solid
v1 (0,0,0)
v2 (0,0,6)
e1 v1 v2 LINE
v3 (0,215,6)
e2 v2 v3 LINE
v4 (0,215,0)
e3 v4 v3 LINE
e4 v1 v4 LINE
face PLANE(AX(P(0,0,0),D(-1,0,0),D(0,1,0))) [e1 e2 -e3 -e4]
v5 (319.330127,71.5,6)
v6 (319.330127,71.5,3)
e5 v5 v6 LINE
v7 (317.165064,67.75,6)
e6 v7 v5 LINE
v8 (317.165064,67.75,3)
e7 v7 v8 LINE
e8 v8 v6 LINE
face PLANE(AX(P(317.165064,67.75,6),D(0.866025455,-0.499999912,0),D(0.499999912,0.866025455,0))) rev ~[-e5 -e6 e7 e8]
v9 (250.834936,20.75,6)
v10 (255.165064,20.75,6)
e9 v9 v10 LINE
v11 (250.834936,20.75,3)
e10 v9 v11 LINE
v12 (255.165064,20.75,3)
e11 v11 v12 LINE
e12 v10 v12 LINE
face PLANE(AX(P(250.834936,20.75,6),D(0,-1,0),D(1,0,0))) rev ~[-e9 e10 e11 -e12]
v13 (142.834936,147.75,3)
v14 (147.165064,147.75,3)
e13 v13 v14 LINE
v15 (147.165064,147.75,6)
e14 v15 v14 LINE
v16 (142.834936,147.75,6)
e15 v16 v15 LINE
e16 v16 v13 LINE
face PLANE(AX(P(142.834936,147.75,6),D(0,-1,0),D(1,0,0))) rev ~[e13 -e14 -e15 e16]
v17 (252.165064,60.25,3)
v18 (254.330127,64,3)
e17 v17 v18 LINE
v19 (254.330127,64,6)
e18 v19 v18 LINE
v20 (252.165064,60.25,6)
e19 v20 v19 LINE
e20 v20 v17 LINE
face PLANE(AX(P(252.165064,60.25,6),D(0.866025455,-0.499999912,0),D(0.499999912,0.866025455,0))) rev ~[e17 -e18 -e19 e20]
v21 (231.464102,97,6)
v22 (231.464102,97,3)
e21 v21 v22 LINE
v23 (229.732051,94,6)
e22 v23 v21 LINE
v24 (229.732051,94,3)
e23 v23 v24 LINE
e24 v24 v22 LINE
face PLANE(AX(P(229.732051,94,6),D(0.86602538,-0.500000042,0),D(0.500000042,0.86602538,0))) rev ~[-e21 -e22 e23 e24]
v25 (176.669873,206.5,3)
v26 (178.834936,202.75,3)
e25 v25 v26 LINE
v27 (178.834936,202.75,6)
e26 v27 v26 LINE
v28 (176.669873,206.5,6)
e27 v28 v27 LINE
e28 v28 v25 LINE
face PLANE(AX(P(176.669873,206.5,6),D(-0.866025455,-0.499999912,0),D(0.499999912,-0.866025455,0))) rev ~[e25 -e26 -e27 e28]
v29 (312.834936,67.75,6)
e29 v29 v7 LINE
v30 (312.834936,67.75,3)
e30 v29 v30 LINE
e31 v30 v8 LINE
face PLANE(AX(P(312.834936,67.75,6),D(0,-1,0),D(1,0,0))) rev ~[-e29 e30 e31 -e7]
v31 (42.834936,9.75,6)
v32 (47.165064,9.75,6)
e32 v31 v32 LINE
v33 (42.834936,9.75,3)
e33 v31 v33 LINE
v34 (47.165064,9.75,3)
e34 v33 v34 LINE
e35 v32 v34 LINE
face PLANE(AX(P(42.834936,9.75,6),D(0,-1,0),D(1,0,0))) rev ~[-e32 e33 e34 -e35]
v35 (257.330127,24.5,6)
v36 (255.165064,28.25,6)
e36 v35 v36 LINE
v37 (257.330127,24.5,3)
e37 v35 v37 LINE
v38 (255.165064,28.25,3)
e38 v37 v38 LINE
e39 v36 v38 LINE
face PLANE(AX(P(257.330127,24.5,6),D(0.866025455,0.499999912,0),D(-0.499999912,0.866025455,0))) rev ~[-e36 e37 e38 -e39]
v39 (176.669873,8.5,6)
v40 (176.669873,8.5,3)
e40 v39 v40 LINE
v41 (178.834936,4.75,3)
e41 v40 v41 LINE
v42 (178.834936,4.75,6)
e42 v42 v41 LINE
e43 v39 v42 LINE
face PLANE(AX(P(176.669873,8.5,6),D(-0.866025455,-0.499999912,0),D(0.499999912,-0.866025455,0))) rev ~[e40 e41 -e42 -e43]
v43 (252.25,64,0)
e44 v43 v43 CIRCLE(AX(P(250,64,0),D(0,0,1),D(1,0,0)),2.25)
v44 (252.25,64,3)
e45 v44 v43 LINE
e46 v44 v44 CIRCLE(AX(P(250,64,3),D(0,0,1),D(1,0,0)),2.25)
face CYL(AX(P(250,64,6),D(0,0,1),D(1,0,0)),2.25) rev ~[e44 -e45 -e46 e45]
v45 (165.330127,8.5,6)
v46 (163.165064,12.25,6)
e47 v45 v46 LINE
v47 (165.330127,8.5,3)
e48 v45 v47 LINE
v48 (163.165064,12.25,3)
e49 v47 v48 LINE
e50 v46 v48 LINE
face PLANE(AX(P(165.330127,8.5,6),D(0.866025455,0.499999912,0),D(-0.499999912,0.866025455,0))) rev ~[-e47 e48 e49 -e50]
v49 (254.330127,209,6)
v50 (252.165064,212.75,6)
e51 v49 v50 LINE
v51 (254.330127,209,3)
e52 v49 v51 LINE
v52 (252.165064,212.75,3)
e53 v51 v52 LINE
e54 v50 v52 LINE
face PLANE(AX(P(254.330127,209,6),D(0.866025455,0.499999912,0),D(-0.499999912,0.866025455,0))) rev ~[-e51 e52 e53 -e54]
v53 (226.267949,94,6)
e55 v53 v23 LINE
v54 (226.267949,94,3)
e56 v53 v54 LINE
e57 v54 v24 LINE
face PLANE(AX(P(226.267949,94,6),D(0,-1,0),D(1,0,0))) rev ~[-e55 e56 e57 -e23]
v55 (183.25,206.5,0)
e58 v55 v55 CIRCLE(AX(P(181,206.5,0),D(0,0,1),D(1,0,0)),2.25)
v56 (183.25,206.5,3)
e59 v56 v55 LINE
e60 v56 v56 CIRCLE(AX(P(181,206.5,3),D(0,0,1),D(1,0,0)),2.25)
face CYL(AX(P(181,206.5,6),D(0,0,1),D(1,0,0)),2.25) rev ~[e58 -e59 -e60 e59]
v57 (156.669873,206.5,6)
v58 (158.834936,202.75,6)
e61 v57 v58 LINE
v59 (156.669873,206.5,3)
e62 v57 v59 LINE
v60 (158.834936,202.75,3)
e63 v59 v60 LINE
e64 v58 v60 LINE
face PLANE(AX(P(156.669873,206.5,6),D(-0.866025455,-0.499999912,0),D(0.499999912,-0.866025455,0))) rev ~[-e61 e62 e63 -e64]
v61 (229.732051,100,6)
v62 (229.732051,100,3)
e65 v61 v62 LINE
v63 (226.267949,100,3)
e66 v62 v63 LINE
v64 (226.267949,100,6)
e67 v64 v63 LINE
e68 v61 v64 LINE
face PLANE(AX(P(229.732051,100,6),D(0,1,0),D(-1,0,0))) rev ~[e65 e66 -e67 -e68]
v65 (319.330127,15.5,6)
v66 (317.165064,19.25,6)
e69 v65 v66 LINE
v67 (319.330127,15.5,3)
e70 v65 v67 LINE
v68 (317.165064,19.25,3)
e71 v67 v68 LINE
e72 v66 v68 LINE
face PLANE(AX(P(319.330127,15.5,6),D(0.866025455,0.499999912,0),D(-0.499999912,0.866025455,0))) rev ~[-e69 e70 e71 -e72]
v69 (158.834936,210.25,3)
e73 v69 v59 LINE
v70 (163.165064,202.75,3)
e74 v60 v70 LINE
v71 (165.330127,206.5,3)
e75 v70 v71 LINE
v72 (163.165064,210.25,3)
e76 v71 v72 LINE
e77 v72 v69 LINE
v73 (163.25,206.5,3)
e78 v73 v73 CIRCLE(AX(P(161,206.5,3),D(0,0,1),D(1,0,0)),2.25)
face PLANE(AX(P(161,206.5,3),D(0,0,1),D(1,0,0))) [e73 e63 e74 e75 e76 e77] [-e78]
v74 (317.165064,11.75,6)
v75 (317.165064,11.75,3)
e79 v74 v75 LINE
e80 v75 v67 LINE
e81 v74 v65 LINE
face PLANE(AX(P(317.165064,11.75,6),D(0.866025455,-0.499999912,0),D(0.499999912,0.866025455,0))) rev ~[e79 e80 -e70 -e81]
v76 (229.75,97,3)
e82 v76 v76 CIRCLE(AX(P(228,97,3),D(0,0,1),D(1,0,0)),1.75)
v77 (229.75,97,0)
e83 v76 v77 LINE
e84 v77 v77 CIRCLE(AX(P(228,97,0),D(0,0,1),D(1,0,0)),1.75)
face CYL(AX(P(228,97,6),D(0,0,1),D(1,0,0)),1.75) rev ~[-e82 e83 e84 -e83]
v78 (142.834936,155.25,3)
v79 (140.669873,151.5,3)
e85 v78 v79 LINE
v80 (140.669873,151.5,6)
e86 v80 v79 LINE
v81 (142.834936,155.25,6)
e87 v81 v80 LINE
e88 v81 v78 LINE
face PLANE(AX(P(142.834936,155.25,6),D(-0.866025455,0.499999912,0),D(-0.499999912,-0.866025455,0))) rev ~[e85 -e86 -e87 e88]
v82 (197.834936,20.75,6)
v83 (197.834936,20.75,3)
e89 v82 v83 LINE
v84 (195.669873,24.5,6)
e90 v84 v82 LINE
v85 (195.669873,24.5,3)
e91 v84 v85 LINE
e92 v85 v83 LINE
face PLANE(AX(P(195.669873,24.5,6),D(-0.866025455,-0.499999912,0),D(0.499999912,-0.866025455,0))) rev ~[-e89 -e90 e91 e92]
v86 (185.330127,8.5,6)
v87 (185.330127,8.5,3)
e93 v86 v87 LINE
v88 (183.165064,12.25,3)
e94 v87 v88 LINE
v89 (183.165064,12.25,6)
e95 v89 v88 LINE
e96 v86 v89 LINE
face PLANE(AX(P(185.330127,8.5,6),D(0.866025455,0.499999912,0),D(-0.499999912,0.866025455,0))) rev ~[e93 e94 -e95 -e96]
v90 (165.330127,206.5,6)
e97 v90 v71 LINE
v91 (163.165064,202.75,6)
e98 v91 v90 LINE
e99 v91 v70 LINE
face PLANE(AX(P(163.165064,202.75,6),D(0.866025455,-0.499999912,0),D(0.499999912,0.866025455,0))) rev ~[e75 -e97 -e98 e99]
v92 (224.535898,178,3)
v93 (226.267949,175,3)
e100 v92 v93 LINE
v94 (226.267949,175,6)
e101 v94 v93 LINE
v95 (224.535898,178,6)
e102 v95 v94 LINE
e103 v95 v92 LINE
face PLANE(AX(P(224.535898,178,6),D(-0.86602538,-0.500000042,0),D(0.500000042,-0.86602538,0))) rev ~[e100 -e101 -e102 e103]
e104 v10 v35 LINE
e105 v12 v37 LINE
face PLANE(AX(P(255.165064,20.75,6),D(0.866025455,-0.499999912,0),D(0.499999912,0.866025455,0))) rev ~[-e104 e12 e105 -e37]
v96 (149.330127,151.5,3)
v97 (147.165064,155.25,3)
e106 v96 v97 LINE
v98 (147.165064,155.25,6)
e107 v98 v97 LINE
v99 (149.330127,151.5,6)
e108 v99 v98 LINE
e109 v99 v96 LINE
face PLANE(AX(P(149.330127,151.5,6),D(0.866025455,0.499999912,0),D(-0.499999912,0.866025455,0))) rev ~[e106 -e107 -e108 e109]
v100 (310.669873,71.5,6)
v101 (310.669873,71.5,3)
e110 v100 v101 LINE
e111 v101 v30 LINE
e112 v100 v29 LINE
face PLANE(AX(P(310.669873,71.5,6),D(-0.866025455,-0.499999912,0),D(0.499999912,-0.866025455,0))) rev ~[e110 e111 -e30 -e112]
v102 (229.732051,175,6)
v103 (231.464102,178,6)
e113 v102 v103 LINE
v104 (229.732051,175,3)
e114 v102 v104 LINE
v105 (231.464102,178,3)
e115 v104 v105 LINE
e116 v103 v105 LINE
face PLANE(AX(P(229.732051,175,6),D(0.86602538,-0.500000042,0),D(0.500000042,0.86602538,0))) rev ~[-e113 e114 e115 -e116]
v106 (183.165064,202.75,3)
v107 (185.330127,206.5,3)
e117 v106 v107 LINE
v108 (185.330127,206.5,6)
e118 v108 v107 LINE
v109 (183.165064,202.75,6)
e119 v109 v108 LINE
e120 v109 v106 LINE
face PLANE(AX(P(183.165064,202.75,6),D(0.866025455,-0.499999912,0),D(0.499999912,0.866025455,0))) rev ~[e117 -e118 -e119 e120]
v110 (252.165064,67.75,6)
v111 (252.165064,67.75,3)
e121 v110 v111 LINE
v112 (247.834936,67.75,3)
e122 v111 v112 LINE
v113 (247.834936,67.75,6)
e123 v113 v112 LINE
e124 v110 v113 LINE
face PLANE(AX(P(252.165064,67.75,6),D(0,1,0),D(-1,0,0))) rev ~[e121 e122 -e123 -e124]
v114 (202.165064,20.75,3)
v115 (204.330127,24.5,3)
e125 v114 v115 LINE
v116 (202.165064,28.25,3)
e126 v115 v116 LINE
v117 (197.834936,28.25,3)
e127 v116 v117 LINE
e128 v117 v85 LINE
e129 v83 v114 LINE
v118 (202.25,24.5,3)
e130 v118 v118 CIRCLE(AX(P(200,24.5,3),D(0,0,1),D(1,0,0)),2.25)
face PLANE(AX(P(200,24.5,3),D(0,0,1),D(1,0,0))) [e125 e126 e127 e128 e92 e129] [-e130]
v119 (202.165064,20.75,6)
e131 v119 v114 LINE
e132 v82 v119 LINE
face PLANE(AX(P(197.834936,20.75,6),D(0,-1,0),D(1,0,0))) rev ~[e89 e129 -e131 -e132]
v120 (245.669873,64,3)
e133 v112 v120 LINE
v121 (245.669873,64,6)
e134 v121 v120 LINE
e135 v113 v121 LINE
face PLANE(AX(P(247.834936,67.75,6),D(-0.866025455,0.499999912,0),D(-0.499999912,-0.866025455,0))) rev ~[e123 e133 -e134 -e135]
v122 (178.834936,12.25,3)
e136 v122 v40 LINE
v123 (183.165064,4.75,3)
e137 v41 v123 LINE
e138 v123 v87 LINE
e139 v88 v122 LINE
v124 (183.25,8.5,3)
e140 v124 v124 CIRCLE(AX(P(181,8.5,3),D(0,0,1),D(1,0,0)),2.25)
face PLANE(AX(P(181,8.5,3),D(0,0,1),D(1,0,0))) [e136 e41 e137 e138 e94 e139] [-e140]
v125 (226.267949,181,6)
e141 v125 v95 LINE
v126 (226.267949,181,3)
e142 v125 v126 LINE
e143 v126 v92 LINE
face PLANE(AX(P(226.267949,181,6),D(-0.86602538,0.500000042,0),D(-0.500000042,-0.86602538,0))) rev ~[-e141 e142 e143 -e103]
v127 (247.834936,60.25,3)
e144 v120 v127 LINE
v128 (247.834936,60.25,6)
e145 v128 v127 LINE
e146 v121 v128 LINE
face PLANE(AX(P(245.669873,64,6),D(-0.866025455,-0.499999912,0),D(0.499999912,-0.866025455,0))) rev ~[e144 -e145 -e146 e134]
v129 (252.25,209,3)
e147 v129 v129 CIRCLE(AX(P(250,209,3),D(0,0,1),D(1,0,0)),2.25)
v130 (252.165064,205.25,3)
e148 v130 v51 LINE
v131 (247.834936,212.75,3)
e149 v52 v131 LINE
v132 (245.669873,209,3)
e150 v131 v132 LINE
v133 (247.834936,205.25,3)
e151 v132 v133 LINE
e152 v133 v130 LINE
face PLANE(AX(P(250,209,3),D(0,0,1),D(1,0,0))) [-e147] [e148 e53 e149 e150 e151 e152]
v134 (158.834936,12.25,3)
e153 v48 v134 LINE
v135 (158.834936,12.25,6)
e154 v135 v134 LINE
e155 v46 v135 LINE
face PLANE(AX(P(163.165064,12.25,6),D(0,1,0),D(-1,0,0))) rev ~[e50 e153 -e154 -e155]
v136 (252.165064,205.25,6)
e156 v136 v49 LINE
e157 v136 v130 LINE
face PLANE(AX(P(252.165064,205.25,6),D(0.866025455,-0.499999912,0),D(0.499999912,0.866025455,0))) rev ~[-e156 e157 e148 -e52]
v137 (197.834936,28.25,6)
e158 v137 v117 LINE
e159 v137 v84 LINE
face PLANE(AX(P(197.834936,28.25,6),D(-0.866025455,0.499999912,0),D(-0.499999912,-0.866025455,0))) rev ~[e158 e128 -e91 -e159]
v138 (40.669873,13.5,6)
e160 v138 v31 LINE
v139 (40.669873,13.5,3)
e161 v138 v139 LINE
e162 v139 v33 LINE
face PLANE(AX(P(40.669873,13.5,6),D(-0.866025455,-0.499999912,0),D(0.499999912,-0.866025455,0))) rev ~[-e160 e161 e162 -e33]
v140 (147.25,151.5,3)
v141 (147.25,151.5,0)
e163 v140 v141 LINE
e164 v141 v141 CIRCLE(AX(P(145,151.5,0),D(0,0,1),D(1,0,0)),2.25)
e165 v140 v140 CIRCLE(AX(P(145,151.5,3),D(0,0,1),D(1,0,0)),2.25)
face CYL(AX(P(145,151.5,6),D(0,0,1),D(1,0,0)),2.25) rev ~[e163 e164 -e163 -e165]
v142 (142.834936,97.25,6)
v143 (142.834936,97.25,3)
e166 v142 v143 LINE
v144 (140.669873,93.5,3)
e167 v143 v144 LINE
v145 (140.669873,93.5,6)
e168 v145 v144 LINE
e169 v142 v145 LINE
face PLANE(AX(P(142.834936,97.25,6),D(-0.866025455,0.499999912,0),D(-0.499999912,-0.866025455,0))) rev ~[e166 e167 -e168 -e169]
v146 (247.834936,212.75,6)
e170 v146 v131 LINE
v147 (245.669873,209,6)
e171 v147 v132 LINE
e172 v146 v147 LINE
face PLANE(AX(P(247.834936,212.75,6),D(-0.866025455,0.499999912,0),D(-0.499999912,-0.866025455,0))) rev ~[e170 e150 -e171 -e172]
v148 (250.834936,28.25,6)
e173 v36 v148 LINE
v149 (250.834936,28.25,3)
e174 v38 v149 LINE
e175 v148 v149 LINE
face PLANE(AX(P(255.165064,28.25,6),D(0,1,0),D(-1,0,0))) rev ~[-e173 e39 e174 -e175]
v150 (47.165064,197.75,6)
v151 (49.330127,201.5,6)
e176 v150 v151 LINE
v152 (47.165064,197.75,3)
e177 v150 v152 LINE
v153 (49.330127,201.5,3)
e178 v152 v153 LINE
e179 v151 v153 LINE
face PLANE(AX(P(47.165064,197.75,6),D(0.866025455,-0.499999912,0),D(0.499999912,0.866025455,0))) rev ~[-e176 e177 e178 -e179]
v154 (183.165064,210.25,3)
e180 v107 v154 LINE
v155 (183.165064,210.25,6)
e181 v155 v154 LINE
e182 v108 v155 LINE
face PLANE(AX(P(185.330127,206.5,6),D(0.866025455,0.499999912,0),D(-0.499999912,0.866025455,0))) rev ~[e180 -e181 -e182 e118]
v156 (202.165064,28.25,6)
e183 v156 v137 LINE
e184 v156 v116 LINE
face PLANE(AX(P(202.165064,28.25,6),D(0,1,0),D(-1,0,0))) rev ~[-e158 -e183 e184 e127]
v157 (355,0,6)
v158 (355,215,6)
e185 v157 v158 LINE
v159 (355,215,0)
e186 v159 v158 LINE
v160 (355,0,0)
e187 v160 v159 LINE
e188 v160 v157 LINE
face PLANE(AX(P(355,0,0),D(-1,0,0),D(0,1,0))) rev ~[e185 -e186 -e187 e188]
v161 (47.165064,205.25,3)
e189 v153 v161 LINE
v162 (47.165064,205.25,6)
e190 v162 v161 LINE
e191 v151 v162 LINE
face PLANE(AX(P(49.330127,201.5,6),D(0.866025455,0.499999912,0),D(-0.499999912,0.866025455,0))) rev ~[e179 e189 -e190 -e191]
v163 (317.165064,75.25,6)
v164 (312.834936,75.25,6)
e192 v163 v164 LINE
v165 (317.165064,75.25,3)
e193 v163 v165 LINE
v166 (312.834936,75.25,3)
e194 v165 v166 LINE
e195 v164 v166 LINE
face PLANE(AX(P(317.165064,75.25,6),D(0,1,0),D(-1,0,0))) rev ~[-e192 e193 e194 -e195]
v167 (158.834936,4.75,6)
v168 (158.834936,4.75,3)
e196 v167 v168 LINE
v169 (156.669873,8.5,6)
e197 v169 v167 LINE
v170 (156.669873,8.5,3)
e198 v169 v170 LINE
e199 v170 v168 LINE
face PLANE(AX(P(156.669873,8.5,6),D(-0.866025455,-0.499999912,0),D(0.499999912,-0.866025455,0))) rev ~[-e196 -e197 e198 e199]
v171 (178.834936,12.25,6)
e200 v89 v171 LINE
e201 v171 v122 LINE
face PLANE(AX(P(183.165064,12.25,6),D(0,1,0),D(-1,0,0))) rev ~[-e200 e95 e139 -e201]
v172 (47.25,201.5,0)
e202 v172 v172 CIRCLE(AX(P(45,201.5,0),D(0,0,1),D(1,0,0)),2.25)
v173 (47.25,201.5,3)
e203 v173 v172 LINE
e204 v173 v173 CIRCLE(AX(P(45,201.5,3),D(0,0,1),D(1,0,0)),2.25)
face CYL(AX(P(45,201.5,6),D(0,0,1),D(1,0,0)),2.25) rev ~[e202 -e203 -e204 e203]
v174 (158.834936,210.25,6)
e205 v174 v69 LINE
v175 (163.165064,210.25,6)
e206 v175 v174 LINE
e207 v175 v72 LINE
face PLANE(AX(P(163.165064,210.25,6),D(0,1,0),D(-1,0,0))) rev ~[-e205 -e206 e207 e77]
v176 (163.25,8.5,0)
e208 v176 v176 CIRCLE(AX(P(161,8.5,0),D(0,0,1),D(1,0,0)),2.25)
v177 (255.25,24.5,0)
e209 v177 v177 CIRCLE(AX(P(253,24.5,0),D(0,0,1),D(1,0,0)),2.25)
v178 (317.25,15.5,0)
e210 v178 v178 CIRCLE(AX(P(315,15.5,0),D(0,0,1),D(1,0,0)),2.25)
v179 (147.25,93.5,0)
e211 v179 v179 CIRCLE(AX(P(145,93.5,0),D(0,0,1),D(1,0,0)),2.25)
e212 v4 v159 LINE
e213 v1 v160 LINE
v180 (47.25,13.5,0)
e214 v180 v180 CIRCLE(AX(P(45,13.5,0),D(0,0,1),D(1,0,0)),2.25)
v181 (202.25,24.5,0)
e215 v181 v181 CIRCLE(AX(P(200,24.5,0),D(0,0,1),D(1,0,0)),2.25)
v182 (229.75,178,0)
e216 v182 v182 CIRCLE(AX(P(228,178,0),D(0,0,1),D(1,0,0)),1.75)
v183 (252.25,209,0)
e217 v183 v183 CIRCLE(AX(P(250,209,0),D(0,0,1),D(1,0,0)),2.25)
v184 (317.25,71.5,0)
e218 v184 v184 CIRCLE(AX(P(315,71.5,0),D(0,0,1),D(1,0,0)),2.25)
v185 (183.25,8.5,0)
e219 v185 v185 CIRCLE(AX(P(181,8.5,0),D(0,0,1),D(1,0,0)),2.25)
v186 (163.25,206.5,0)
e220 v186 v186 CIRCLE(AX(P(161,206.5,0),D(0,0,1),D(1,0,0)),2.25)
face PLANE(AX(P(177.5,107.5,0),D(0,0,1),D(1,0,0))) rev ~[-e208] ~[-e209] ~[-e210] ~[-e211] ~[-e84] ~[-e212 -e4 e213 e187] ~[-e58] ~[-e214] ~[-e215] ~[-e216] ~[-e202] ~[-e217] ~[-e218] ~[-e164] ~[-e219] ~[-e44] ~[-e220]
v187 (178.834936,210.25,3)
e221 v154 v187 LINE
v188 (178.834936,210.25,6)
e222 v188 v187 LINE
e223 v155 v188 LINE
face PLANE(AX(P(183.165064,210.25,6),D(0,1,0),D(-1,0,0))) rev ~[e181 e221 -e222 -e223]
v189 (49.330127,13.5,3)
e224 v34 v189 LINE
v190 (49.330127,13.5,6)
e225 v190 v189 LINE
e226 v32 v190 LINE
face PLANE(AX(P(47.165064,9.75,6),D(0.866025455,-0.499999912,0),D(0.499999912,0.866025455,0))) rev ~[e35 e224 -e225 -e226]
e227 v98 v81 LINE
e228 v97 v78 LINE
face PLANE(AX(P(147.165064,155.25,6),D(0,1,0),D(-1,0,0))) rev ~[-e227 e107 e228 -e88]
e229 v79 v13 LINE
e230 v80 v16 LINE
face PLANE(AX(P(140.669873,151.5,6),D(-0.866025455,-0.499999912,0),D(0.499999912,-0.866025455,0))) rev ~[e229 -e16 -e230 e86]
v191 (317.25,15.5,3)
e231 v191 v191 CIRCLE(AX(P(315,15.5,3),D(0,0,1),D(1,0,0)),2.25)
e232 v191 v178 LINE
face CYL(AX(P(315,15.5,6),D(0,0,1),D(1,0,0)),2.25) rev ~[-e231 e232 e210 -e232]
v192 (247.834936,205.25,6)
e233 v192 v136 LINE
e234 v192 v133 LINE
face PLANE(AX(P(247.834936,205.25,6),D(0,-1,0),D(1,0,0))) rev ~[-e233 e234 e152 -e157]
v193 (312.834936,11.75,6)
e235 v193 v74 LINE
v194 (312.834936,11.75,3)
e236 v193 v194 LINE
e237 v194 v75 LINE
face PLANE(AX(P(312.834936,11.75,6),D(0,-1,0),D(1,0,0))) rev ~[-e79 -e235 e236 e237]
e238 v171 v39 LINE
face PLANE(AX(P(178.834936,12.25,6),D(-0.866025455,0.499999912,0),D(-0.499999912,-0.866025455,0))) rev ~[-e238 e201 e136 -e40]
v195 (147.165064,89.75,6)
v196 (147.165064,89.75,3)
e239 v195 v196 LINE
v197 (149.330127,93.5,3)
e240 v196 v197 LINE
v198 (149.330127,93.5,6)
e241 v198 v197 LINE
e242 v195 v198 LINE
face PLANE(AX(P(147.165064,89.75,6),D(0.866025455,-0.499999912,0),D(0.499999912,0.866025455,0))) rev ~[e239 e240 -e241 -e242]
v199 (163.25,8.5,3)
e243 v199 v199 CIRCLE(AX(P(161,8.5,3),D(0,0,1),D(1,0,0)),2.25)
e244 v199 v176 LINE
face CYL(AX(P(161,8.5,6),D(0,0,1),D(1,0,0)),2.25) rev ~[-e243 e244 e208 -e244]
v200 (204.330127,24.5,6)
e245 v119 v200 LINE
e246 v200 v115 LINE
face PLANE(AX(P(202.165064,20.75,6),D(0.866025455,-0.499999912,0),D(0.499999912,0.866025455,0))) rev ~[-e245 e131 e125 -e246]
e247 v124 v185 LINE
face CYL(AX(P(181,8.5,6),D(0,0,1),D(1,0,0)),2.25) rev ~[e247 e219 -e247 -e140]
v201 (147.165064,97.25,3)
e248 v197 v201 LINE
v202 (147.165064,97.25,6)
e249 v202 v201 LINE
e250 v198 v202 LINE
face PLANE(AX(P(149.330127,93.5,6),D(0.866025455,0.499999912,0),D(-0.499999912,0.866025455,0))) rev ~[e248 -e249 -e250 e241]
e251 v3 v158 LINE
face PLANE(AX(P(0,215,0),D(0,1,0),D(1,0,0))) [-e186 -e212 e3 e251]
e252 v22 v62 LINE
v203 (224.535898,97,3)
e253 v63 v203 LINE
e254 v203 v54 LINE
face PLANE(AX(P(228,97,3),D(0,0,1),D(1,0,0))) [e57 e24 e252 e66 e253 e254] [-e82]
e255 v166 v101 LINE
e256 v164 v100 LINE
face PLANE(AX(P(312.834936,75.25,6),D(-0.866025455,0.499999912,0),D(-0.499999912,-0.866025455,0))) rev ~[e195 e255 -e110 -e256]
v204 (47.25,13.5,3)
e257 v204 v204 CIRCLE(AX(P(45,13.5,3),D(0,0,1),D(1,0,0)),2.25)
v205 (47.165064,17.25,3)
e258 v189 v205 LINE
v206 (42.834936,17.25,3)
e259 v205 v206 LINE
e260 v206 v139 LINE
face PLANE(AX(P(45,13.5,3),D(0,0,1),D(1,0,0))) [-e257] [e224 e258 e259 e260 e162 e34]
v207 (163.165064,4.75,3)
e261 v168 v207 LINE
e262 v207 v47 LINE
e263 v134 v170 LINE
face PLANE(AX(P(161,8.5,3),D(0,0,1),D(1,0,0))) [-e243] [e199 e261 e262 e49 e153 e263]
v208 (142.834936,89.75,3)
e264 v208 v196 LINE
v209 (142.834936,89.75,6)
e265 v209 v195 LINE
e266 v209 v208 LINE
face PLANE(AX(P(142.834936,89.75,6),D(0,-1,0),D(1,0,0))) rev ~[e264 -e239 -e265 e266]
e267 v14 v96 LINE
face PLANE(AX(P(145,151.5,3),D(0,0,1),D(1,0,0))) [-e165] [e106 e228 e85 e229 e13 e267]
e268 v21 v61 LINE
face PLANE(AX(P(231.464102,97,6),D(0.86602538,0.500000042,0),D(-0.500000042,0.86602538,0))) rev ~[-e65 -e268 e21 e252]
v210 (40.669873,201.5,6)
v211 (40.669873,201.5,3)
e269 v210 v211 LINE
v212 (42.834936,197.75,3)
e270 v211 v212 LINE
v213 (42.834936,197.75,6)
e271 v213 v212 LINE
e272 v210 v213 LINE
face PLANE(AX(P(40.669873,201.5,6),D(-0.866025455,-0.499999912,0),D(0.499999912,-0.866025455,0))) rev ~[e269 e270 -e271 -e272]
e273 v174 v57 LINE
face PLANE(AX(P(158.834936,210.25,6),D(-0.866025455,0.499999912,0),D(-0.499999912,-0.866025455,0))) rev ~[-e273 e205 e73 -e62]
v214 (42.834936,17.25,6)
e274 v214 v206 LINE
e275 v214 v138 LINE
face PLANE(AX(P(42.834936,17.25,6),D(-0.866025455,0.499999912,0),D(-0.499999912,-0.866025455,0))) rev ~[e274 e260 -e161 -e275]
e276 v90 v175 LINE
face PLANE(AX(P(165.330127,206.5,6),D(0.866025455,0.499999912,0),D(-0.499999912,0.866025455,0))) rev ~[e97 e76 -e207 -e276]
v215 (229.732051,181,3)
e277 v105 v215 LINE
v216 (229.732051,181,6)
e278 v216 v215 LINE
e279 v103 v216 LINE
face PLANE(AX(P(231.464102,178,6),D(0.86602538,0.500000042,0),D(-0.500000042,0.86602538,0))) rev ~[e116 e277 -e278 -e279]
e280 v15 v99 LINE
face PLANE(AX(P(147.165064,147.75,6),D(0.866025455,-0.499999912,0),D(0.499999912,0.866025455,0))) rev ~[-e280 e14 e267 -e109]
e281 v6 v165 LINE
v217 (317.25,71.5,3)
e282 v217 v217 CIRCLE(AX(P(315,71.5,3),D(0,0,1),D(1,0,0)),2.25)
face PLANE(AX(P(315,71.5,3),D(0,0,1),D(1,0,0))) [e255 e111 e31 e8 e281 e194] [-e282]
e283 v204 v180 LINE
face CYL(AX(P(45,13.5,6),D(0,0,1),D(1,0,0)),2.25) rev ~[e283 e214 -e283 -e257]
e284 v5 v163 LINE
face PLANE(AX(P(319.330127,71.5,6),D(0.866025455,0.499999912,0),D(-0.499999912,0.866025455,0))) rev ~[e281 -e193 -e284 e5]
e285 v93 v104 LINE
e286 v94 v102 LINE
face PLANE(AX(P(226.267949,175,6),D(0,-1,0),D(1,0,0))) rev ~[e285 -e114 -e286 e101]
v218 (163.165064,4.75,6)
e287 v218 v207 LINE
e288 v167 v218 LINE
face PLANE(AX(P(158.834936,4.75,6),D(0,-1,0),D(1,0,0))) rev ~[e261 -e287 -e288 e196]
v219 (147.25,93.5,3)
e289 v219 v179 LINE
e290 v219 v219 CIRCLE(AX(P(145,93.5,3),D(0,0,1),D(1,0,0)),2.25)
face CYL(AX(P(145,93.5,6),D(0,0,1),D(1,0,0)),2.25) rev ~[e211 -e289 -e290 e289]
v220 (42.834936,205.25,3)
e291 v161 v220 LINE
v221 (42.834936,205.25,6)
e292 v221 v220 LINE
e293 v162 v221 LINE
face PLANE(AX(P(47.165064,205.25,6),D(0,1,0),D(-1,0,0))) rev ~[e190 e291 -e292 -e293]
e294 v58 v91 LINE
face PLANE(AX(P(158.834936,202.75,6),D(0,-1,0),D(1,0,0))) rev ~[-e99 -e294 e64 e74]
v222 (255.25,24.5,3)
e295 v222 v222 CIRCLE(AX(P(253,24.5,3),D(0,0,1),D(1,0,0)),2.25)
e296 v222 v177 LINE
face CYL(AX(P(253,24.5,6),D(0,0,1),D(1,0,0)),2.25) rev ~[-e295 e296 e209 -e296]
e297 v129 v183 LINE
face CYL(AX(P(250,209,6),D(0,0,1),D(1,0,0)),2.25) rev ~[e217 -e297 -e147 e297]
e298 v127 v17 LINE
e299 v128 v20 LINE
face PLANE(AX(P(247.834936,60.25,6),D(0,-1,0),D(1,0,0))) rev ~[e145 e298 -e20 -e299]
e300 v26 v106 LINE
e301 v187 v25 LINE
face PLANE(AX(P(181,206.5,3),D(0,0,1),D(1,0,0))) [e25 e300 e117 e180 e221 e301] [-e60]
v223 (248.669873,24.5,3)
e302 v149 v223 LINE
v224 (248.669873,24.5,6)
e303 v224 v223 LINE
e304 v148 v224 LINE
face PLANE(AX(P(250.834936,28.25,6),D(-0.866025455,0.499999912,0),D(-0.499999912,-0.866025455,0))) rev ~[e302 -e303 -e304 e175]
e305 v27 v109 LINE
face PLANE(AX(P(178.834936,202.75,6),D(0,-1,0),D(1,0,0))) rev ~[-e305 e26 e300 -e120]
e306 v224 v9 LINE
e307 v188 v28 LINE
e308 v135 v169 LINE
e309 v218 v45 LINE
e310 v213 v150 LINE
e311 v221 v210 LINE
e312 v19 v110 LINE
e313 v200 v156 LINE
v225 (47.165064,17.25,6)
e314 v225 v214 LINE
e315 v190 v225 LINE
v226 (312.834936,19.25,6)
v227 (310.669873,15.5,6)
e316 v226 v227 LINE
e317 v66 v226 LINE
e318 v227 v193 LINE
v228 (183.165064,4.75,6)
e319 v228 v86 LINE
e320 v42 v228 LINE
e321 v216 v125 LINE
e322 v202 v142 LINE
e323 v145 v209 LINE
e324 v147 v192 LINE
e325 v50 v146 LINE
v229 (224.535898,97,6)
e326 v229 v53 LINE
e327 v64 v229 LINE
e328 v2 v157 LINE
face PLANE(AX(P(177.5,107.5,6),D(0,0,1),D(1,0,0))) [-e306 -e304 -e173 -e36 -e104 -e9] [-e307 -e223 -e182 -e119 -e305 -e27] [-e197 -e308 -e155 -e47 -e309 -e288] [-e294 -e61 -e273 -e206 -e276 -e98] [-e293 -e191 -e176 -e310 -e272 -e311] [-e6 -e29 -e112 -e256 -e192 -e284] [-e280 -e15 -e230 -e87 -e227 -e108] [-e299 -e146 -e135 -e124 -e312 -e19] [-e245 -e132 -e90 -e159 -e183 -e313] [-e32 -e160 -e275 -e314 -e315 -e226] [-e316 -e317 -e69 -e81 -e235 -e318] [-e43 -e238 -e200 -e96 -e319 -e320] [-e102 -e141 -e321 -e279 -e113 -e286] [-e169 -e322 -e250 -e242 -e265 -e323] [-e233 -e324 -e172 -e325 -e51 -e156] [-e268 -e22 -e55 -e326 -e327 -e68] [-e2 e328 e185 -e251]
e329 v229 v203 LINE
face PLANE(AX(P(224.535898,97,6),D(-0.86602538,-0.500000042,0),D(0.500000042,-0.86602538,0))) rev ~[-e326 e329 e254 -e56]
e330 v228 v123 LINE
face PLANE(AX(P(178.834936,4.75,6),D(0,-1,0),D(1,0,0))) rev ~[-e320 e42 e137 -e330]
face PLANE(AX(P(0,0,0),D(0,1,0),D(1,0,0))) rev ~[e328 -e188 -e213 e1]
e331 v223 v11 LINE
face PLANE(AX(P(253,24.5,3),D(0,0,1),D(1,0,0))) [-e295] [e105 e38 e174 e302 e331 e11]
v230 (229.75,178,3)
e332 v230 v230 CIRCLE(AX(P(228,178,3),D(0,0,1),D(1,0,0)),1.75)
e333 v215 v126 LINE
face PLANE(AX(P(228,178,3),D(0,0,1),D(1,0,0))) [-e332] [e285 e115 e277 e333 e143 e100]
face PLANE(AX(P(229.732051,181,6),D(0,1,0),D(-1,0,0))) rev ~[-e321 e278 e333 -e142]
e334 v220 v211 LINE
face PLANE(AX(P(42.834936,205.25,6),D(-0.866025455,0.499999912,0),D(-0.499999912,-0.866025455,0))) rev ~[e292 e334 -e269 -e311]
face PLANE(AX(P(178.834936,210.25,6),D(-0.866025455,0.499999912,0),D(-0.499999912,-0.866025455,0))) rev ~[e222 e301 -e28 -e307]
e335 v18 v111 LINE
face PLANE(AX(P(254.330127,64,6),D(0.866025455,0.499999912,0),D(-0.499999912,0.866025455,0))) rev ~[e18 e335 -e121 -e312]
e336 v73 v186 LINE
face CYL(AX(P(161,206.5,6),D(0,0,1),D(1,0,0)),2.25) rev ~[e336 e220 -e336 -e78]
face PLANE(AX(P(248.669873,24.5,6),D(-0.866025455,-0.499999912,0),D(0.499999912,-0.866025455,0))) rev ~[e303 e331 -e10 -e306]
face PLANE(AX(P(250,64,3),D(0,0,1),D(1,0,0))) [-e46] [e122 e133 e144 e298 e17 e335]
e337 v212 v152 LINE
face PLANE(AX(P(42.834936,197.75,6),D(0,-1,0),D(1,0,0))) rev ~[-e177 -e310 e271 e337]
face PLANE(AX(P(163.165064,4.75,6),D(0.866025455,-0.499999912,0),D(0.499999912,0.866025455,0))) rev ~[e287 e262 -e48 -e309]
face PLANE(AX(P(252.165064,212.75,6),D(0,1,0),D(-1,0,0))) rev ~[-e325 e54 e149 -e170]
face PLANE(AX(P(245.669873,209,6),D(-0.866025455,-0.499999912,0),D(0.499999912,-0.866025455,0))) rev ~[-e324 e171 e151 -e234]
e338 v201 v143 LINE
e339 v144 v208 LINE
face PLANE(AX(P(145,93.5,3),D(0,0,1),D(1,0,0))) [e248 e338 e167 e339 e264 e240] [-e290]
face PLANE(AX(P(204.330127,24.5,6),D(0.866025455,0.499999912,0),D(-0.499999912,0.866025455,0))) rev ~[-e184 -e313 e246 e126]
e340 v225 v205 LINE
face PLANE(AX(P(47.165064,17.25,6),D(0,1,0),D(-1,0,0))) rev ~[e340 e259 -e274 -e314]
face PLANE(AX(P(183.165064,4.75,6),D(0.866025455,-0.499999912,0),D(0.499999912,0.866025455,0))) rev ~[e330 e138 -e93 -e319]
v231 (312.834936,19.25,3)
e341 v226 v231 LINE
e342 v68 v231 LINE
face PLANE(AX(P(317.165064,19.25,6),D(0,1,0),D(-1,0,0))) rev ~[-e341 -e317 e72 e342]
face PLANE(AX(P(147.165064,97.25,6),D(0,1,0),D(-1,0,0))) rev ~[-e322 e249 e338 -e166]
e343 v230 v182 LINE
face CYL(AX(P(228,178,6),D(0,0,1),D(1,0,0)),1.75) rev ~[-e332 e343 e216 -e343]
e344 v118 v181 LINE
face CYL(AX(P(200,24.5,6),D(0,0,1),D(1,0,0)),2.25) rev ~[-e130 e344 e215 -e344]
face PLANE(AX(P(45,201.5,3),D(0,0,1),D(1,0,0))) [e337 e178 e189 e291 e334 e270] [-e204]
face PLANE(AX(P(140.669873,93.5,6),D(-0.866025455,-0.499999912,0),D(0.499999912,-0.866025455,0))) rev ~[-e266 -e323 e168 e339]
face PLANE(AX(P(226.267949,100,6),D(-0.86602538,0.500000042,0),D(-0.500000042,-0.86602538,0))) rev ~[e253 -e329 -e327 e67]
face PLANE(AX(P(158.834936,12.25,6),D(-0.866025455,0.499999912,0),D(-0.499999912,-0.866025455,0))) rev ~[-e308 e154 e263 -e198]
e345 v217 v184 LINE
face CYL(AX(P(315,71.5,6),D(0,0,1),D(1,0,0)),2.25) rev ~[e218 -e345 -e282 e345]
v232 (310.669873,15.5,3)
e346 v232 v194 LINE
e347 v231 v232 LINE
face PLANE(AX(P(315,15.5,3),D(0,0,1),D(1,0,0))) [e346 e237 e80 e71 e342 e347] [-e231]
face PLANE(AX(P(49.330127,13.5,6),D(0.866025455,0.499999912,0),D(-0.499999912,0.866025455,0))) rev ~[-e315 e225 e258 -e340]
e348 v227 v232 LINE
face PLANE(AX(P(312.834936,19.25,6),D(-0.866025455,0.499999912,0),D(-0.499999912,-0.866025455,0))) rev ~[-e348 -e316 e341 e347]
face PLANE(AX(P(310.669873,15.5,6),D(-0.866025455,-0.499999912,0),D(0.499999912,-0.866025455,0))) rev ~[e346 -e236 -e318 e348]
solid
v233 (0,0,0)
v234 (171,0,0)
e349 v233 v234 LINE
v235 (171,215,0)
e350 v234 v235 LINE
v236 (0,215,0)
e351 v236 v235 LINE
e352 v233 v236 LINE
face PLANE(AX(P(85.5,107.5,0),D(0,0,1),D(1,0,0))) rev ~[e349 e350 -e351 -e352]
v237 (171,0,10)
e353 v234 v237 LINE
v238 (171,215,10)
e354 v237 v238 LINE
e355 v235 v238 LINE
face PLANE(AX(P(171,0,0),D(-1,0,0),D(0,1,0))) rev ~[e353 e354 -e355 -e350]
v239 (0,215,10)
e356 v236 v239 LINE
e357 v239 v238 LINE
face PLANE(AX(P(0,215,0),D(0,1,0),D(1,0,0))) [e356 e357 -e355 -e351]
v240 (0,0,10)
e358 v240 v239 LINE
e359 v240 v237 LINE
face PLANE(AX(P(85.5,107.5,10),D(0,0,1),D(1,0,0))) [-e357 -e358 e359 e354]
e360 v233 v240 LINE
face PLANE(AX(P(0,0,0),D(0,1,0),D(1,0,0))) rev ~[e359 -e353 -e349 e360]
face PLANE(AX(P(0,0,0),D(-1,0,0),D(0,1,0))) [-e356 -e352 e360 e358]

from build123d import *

# Parameters (mm, degrees)
SKETCH_W        = 355
SKETCH_H        = 215
PAD_DEPTH       = 6
SKETCH001_R     = 2.25
SKETCH001_R_2   = 1.75
POCKET_DEPTH    = 10
POCKET001_DEPTH = 3
BOX_W           = 171
BOX_H           = 215
BOX_DEPTH       = 10


with BuildPart() as body:
    # Sketch → Pad (new body)
    with BuildSketch(Plane.XY):
        with Locations((177.5, 107.5)):
            Rectangle(SKETCH_W, SKETCH_H)
    extrude(amount=PAD_DEPTH)

    # Sketch001 (on Face6 of Pad) → Pocket (cut)
    with BuildSketch(Plane.XY.offset(6)):
        with Locations((45, 13.5)):
            Circle(SKETCH001_R)
        with Locations((45, 201.5)):
            Circle(SKETCH001_R)
        with Locations((145, 93.5)):
            Circle(SKETCH001_R)
        with Locations((145, 151.5)):
            Circle(SKETCH001_R)
        with Locations((200, 24.5)):
            Circle(SKETCH001_R)
        with Locations((253, 24.5)):
            Circle(SKETCH001_R)
        with Locations((250, 209)):
            Circle(SKETCH001_R)
        with Locations((250, 64)):
            Circle(SKETCH001_R)
        with Locations((315, 15.5)):
            Circle(SKETCH001_R)
        with Locations((315, 71.5)):
            Circle(SKETCH001_R)
        with Locations((228, 97)):
            Circle(SKETCH001_R_2)
        with Locations((228, 178)):
            Circle(SKETCH001_R_2)
        with Locations((161, 8.5)):
            Circle(SKETCH001_R)
        with Locations((181, 8.5)):
            Circle(SKETCH001_R)
        with Locations((161, 206.5)):
            Circle(SKETCH001_R)
        with Locations((181, 206.5)):
            Circle(SKETCH001_R)
    extrude(amount=-POCKET_DEPTH, mode=Mode.SUBTRACT)

    # Sketch002 (on Face5 of Pocket) → Pocket001 (cut)
    with BuildSketch(Plane.XY.offset(6)):
        Polygon((47.165064, 17.25), (42.834936, 17.25), (40.669873, 13.5), (42.834936, 9.75), (47.165064, 9.75), (49.330127, 13.5), align=None)
        Polygon((47.165064, 197.75), (49.330127, 201.5), (47.165064, 205.25), (42.834936, 205.25), (40.669873, 201.5), (42.834936, 197.75), align=None)
        Polygon((147.165064, 97.25), (142.834936, 97.25), (140.669873, 93.5), (142.834936, 89.75), (147.165064, 89.75), (149.330127, 93.5), align=None)
        Polygon((149.330127, 151.5), (147.165064, 155.25), (142.834936, 155.25), (140.669873, 151.5), (142.834936, 147.75), (147.165064, 147.75), align=None)
        Polygon((163.165064, 12.25), (158.834936, 12.25), (156.669873, 8.5), (158.834936, 4.75), (163.165064, 4.75), (165.330127, 8.5), align=None)
        Polygon((183.165064, 12.25), (178.834936, 12.25), (176.669873, 8.5), (178.834936, 4.75), (183.165064, 4.75), (185.330127, 8.5), align=None)
        Polygon((163.165064, 202.75), (165.330127, 206.5), (163.165064, 210.25), (158.834936, 210.25), (156.669873, 206.5), (158.834936, 202.75), align=None)
        Polygon((183.165064, 202.75), (185.330127, 206.5), (183.165064, 210.25), (178.834936, 210.25), (176.669873, 206.5), (178.834936, 202.75), align=None)
        Polygon((202.165064, 28.25), (197.834936, 28.25), (195.669873, 24.5), (197.834936, 20.75), (202.165064, 20.75), (204.330127, 24.5), align=None)
        Polygon((255.165064, 28.25), (250.834936, 28.25), (248.669873, 24.5), (250.834936, 20.75), (255.165064, 20.75), (257.330127, 24.5), align=None)
        Polygon((252.165064, 60.25), (254.330127, 64), (252.165064, 67.75), (247.834936, 67.75), (245.669873, 64), (247.834936, 60.25), align=None)
        Polygon((252.165064, 205.25), (254.330127, 209), (252.165064, 212.75), (247.834936, 212.75), (245.669873, 209), (247.834936, 205.25), align=None)
        Polygon((317.165064, 19.25), (312.834936, 19.25), (310.669873, 15.5), (312.834936, 11.75), (317.165064, 11.75), (319.330127, 15.5), align=None)
        Polygon((319.330127, 71.5), (317.165064, 75.25), (312.834936, 75.25), (310.669873, 71.5), (312.834936, 67.75), (317.165064, 67.75), align=None)
        Polygon((231.464102, 97), (229.732051, 100), (226.267949, 100), (224.535898, 97), (226.267949, 94), (229.732051, 94), align=None)
        Polygon((229.732051, 181), (226.267949, 181), (224.535898, 178), (226.267949, 175), (229.732051, 175), (231.464102, 178), align=None)
    extrude(amount=-POCKET001_DEPTH, mode=Mode.SUBTRACT)


with BuildPart() as cube:
    # Box → Box (new body)
    with BuildSketch(Plane.XY):
        with Locations((85.5, 107.5)):
            Rectangle(BOX_W, BOX_H)
    extrude(amount=BOX_DEPTH)


solid = Compound([body.part, cube.part])
